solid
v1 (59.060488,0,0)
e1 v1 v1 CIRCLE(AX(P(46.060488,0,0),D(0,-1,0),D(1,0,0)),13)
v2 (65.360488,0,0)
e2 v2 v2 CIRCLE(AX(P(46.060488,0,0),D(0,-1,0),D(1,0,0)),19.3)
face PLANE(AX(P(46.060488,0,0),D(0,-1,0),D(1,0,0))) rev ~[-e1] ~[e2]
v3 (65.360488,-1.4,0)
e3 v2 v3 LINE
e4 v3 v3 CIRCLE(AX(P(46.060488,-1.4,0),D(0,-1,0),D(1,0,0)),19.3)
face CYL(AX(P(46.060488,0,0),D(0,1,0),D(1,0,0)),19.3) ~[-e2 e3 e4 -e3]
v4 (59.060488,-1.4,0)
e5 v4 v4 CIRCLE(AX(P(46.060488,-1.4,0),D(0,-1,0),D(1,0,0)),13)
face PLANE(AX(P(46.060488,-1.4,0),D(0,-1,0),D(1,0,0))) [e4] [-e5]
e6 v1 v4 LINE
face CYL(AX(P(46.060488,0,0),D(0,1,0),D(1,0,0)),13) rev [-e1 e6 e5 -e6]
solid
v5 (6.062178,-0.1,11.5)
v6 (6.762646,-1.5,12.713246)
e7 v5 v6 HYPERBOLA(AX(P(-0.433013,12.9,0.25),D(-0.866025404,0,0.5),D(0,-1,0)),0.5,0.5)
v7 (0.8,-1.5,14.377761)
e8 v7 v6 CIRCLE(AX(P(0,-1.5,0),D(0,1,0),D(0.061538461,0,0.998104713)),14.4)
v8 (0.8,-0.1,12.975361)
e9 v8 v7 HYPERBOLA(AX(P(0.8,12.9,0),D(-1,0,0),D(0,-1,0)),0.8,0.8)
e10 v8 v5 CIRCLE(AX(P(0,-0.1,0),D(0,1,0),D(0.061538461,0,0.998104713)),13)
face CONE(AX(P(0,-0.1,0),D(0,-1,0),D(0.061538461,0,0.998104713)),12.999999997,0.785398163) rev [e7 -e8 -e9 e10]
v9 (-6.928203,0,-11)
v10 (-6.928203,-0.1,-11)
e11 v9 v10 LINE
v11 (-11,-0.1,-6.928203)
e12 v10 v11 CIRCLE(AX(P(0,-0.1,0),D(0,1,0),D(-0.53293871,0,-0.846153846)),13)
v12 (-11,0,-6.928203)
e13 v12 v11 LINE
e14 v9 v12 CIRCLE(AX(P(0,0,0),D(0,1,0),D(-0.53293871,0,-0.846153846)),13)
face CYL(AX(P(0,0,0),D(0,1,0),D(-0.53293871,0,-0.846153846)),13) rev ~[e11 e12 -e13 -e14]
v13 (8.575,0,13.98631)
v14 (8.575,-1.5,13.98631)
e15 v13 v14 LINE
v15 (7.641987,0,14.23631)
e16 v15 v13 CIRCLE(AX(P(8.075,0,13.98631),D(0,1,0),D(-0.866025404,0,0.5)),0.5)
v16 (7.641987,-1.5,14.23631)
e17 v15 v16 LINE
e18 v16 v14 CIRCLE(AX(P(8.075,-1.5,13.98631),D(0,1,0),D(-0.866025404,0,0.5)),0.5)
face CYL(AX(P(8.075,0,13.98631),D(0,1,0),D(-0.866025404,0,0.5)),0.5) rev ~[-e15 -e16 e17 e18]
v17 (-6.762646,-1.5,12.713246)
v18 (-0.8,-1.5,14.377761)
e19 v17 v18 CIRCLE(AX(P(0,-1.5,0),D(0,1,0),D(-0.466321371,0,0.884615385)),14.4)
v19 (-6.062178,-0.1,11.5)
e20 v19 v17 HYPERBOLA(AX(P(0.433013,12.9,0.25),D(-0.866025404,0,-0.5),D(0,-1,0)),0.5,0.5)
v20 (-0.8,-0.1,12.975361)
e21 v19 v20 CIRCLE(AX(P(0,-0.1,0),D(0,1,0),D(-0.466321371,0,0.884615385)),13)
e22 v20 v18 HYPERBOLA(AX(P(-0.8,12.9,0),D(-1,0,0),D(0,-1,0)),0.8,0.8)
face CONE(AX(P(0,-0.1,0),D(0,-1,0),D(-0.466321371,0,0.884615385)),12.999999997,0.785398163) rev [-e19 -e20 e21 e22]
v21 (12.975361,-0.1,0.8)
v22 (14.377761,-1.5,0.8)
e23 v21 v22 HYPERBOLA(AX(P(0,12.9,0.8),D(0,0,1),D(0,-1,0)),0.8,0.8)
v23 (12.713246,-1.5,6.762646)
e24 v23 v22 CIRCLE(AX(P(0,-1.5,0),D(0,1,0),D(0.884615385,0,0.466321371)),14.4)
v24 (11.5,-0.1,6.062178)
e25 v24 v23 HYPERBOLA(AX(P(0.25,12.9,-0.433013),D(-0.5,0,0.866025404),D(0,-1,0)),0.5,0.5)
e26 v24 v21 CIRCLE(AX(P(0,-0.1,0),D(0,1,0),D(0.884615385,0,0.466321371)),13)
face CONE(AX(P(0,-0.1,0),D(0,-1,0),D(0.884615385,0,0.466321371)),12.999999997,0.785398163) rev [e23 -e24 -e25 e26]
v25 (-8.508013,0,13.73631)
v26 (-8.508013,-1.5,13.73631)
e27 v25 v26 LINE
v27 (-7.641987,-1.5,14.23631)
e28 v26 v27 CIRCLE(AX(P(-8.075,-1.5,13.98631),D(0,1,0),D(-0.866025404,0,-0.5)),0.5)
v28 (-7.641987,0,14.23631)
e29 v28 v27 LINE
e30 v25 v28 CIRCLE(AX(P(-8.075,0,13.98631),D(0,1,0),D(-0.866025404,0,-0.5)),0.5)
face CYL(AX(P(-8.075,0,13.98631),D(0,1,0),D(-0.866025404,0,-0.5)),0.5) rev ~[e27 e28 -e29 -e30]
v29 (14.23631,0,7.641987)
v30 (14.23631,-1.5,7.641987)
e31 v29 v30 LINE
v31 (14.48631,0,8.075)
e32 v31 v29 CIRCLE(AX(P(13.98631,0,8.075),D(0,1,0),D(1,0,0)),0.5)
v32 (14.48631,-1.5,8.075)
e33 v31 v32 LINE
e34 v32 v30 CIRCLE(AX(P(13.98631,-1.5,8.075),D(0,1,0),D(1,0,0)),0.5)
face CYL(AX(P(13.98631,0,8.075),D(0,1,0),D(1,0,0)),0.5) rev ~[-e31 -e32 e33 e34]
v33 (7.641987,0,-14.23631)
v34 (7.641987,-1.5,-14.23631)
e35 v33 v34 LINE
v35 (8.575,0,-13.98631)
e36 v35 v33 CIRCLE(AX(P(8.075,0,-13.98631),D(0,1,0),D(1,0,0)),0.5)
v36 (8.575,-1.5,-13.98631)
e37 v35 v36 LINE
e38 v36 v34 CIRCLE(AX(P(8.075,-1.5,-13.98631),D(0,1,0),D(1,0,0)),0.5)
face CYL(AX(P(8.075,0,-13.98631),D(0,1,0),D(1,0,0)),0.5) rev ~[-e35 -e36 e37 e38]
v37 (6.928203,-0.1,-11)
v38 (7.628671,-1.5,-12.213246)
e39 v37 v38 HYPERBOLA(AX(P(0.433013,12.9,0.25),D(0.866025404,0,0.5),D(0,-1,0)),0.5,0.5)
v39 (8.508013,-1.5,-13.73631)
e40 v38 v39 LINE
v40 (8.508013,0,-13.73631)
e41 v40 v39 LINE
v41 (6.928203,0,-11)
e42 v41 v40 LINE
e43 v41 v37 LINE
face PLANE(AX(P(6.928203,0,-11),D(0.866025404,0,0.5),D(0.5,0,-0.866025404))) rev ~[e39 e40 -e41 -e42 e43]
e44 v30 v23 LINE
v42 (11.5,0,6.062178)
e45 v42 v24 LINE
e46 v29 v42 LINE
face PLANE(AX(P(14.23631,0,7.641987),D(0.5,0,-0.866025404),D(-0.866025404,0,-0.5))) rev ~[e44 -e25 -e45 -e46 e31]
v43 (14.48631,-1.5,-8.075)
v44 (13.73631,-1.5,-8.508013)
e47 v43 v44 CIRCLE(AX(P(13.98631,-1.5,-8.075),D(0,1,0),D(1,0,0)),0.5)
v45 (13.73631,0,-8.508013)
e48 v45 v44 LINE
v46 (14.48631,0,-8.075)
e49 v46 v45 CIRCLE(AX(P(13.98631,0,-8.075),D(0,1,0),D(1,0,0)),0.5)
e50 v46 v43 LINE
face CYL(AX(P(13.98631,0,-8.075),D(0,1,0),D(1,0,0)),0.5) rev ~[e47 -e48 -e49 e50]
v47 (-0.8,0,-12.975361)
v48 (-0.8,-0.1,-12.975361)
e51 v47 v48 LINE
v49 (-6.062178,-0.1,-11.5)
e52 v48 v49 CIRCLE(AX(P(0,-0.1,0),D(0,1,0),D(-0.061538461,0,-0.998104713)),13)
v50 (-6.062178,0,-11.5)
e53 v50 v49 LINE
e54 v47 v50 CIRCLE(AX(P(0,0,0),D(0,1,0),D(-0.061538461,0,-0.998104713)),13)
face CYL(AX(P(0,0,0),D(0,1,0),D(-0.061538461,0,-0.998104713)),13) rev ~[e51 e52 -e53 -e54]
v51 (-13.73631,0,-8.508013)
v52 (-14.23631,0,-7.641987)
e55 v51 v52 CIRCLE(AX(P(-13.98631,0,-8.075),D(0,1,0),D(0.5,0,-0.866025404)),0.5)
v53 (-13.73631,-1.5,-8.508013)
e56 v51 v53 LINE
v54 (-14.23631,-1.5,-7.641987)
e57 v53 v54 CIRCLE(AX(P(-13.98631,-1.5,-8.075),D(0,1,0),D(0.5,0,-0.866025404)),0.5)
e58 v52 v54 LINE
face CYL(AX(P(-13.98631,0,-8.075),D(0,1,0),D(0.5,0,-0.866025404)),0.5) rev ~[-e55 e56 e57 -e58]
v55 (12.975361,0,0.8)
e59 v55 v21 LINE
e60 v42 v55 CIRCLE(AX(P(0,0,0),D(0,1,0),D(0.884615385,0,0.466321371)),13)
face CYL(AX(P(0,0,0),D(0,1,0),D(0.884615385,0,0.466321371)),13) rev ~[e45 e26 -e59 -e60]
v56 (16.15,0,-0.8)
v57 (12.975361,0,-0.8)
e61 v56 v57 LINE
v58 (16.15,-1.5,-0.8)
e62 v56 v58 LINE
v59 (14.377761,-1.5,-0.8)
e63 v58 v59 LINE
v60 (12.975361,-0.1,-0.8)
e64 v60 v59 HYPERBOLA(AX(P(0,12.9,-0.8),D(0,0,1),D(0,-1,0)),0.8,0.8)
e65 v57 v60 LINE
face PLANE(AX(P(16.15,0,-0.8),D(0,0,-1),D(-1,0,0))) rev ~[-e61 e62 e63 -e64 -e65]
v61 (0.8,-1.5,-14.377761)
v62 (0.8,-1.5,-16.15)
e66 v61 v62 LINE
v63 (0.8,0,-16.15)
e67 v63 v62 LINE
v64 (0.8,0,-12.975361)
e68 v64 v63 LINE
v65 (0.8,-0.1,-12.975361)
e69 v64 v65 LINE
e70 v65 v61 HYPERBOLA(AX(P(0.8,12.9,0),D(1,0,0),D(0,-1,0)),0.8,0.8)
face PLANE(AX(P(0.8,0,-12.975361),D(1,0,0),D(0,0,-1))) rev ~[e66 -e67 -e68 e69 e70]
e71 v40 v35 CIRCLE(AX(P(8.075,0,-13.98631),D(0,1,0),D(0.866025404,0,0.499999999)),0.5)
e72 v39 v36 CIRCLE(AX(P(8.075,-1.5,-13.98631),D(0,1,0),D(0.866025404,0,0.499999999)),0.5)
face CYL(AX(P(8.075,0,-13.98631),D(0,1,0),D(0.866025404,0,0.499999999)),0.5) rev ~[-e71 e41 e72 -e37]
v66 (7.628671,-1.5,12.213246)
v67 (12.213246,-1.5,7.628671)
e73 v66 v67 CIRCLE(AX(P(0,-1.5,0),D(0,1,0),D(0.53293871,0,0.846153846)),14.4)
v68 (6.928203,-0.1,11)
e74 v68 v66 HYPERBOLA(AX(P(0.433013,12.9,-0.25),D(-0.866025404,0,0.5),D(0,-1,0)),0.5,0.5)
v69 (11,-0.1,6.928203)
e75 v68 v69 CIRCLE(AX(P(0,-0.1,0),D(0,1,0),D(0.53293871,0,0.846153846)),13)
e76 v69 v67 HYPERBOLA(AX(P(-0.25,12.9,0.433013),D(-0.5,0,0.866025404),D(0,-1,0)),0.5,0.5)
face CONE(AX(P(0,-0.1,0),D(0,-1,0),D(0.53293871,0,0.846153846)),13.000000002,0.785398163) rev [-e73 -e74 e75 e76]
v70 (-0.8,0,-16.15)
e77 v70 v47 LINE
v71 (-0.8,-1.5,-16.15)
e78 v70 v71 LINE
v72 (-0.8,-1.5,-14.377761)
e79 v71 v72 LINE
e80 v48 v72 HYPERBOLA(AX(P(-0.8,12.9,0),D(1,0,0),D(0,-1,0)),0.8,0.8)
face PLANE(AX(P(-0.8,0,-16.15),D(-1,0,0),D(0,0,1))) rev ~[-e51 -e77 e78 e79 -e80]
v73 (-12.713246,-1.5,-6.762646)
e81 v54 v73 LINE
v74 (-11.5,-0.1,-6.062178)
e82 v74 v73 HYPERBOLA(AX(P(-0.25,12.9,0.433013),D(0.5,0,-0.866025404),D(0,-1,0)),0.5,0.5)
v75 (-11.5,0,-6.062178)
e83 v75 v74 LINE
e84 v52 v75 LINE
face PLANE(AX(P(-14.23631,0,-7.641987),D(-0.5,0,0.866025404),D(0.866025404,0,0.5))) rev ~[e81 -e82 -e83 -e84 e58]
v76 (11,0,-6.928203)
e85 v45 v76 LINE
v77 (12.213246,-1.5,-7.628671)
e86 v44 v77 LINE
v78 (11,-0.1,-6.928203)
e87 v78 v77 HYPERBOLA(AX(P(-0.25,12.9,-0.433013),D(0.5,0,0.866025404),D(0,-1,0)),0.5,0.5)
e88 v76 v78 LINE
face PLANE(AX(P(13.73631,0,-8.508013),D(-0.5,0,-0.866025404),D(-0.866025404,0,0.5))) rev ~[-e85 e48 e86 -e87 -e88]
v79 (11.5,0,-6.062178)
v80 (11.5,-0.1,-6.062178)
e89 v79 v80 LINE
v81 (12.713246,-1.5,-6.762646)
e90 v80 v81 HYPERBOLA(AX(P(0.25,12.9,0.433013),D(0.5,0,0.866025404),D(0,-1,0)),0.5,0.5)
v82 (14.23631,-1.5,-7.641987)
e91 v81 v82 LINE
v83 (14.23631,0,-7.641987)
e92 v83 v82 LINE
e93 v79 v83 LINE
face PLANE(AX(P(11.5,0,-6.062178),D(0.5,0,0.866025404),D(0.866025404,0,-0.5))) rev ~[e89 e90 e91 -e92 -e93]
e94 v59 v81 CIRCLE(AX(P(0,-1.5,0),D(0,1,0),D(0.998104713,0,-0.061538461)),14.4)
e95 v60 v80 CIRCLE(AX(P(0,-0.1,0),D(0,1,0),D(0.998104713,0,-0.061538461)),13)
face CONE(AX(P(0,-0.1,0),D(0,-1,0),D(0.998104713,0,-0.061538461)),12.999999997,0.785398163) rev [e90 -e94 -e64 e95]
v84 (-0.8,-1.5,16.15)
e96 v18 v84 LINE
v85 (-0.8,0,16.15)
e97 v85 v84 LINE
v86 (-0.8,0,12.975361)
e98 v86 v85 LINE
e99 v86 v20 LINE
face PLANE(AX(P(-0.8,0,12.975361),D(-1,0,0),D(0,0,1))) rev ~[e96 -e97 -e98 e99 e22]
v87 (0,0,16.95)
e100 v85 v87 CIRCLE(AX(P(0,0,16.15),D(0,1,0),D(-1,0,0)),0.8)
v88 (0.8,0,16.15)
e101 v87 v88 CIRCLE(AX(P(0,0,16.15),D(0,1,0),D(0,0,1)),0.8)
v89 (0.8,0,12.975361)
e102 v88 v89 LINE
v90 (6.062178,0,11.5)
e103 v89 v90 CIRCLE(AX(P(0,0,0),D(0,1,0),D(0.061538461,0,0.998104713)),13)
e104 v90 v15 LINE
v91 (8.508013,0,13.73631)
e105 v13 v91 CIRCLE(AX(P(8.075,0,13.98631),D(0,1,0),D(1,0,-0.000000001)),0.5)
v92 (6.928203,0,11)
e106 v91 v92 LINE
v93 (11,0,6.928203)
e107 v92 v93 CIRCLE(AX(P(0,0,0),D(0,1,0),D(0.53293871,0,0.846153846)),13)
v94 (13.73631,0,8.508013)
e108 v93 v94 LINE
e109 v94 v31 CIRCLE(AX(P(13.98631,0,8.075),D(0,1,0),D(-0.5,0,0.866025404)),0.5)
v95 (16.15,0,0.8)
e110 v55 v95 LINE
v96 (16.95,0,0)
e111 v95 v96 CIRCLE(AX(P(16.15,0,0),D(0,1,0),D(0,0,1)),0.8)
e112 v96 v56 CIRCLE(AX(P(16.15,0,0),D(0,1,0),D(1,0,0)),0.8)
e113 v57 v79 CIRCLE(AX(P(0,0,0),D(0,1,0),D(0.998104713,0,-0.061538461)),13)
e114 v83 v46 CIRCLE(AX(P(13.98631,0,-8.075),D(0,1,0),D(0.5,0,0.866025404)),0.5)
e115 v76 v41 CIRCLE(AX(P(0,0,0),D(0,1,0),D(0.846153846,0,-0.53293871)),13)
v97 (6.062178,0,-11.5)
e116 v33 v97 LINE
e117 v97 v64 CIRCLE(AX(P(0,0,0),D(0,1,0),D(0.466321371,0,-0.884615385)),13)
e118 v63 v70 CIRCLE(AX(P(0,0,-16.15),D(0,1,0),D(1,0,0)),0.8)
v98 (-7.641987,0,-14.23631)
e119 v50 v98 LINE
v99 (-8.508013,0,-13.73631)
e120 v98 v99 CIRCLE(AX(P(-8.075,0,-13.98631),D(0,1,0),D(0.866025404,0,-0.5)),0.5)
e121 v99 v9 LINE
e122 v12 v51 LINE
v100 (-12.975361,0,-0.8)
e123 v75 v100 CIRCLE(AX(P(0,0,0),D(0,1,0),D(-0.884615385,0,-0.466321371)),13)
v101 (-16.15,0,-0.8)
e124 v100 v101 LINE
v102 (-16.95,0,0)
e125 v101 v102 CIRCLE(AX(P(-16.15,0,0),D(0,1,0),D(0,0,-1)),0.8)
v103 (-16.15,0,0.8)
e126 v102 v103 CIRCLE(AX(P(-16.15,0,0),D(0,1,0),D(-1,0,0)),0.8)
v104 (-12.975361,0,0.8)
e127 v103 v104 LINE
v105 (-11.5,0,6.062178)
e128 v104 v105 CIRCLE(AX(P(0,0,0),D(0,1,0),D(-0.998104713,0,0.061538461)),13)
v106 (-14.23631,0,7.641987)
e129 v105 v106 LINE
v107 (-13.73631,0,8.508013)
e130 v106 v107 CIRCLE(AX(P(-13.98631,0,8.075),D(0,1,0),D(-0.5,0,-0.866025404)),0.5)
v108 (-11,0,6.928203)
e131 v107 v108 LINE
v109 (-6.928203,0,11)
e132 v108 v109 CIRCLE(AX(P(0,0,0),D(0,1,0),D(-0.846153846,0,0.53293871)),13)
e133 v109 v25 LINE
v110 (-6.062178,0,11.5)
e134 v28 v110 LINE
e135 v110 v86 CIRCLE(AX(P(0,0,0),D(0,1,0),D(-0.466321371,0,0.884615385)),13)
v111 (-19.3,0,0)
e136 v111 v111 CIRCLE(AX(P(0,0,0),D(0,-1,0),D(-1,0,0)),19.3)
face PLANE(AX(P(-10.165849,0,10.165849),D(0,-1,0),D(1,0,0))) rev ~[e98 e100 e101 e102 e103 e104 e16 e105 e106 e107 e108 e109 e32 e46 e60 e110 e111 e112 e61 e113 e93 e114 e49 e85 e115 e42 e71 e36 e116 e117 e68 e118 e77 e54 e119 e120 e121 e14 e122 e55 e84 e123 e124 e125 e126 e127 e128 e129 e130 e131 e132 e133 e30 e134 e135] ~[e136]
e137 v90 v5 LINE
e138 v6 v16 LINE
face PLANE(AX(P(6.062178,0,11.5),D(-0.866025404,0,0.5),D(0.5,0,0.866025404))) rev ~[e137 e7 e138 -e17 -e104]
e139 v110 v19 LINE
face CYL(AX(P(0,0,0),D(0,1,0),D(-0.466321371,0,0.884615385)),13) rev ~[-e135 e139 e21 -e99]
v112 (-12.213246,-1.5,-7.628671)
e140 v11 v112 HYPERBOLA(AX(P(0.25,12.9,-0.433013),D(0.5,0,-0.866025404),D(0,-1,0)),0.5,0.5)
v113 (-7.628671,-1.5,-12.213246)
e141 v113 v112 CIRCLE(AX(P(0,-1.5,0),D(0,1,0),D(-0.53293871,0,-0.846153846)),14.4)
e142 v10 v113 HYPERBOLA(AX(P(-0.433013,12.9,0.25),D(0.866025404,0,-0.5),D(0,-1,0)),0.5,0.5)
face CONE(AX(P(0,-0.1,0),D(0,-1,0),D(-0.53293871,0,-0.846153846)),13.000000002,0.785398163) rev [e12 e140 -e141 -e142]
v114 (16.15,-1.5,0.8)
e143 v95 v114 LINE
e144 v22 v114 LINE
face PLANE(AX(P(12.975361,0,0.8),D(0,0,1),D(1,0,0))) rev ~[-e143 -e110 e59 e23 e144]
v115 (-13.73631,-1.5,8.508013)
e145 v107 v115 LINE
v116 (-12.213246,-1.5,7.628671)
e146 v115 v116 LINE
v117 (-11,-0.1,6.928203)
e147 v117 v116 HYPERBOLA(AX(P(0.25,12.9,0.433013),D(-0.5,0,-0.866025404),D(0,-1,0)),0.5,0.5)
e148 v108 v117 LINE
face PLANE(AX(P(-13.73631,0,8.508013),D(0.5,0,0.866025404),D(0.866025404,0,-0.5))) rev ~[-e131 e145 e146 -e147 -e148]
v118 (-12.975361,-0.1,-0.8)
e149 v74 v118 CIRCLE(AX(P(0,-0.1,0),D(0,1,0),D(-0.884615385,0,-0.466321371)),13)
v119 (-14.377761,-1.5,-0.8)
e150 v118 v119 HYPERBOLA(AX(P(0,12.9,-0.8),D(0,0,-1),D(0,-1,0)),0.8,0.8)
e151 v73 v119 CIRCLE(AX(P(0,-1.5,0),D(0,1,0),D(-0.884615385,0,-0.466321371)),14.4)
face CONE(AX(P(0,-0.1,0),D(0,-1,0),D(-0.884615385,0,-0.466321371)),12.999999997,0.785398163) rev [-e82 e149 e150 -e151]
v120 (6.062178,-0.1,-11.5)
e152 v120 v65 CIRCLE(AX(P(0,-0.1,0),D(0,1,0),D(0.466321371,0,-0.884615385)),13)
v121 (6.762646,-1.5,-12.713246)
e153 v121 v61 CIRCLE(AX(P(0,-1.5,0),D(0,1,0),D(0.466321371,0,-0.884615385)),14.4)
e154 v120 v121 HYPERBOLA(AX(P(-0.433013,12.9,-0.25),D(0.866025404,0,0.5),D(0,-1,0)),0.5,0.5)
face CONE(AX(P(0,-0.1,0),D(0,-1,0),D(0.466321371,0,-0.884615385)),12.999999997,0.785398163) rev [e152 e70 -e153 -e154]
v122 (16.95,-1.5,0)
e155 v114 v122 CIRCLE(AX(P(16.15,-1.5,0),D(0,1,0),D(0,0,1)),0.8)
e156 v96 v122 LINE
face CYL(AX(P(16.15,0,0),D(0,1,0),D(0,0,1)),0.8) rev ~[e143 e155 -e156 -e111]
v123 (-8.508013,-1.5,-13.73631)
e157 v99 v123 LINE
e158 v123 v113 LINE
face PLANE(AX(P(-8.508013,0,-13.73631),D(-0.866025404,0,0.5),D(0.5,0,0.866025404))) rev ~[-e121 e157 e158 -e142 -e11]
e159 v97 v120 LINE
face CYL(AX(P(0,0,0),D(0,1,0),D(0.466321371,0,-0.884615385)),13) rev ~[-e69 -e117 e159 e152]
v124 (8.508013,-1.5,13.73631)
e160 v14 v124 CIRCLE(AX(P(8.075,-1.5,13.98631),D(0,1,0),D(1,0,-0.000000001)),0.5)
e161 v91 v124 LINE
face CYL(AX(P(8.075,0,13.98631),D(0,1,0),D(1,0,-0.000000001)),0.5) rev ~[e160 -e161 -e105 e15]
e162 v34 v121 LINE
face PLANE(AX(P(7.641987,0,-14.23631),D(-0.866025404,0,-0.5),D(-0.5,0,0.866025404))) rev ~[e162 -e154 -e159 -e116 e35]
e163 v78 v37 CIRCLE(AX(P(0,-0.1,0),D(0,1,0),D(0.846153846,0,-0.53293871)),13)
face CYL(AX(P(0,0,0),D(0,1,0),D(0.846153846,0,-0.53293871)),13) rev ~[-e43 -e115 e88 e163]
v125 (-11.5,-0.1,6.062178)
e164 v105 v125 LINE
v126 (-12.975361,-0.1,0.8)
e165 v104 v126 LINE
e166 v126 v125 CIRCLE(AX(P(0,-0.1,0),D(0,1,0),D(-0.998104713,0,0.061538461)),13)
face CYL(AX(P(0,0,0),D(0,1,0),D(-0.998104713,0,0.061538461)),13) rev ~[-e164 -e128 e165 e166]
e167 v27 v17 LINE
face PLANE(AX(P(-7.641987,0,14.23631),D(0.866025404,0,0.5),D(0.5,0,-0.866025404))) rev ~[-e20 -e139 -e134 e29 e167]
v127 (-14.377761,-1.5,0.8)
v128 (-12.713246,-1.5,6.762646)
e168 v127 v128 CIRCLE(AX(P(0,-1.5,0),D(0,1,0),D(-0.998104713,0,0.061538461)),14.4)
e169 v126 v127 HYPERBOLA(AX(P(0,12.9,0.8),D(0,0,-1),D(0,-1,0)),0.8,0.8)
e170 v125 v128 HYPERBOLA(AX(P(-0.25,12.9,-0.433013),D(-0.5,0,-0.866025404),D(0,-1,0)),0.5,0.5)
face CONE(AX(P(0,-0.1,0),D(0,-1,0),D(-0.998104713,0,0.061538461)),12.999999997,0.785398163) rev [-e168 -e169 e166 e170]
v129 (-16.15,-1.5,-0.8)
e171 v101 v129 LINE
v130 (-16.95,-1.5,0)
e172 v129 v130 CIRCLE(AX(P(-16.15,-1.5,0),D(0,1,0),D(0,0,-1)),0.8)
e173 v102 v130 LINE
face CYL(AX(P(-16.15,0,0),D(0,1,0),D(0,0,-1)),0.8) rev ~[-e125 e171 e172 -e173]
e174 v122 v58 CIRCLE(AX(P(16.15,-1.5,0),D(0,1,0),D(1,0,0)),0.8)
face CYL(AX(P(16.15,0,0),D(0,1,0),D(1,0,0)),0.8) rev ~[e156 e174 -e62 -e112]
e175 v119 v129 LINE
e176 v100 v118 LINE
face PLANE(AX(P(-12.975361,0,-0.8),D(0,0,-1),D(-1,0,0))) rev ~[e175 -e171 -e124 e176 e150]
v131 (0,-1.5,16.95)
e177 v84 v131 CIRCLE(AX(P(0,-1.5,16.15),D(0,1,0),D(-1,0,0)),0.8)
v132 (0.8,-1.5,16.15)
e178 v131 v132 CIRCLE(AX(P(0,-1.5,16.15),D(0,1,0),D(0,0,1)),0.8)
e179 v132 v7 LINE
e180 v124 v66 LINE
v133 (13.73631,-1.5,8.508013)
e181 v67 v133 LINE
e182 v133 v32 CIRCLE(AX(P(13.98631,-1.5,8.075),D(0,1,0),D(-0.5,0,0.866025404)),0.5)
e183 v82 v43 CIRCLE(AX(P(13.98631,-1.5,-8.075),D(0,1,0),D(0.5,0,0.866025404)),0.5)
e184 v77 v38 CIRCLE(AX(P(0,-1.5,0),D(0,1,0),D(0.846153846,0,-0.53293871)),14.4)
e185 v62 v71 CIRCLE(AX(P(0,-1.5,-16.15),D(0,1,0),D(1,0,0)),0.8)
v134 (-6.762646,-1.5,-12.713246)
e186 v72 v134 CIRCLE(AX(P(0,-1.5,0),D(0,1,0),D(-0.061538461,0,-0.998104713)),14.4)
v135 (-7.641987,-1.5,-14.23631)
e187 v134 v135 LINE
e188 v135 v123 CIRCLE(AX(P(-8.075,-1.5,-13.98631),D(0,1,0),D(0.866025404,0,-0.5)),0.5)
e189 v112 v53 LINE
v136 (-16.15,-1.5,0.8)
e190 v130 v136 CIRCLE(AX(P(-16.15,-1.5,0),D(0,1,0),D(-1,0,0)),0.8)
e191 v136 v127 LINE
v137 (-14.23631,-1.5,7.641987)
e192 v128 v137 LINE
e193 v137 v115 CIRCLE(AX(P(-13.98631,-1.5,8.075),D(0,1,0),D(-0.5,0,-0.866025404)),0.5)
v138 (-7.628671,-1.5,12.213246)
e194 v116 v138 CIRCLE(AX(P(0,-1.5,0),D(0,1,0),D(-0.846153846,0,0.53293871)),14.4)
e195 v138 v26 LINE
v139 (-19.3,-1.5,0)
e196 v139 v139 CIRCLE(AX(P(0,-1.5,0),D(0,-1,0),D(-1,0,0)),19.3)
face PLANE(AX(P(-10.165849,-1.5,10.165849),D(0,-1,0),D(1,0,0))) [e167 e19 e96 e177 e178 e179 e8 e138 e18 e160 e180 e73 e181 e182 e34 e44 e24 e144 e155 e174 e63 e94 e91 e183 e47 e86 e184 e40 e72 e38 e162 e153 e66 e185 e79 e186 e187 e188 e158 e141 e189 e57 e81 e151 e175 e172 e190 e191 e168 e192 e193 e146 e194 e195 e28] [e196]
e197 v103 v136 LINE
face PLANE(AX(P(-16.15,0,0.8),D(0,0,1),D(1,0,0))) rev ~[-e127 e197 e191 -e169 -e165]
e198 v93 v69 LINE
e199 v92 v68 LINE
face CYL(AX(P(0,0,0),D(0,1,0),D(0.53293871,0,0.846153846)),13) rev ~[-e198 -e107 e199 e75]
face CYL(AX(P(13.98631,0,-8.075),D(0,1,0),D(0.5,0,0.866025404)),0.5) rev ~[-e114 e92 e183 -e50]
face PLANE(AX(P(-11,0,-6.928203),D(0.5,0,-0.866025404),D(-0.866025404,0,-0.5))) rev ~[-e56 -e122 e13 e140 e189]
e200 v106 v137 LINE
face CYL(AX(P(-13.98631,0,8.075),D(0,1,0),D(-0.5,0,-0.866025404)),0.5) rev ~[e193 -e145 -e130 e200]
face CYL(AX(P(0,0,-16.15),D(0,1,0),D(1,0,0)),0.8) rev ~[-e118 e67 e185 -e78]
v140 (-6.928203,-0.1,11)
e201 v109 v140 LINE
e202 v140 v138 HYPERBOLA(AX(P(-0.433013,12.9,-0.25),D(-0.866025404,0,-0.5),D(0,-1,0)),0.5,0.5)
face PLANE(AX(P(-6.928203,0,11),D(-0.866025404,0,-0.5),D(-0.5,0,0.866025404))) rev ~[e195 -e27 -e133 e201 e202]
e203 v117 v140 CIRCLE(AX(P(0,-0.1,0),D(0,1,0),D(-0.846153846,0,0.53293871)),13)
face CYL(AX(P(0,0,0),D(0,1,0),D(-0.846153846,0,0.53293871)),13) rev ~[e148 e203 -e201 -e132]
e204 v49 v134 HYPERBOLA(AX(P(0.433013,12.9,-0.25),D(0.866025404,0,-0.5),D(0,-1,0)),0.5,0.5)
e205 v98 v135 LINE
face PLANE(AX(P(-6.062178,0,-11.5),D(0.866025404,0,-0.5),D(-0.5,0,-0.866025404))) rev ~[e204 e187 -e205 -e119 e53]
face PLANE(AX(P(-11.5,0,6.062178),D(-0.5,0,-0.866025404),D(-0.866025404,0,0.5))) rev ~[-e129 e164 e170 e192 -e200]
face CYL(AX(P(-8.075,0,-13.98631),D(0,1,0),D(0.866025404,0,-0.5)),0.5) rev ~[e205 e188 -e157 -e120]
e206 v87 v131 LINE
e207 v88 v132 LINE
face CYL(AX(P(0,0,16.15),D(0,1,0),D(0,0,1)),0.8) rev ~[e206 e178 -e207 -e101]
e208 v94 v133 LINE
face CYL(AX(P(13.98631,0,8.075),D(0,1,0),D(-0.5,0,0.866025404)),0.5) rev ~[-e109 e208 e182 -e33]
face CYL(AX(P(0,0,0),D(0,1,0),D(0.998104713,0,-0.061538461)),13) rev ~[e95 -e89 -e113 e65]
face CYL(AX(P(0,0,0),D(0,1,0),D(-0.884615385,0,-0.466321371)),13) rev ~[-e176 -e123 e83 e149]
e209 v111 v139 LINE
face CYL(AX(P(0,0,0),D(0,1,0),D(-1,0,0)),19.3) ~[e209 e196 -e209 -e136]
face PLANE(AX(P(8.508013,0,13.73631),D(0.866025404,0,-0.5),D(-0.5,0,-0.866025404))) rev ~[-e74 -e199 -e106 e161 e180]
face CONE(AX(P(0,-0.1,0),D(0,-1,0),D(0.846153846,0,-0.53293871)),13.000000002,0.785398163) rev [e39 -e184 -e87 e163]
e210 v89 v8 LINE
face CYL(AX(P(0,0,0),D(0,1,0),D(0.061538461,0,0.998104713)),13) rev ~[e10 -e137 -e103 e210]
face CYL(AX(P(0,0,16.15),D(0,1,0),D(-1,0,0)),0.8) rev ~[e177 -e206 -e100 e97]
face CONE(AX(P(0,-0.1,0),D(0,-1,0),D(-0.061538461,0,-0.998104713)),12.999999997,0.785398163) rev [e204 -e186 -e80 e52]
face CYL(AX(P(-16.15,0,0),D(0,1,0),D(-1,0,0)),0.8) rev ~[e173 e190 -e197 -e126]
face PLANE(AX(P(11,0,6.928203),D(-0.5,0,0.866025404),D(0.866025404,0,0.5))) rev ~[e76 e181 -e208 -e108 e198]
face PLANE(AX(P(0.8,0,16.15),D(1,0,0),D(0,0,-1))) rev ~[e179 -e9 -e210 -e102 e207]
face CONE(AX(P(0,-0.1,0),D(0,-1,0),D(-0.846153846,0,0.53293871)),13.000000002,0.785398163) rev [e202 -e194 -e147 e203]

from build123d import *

# Parameters (mm, degrees)
F1_DEPTH = 1.5
F2_SIZE  = 1.4
F0_R     = 19.3
F0_R_2   = 13
F3_DEPTH = 1.4


with BuildPart() as f1:
    # F0 (on Front) → F1 (new body)
    with BuildSketch(Plane.XZ):
        with BuildLine():
            Line((0, 16.95), (0, 19.3))
            ThreePointArc((0, 19.3), (-13.6471608769, 13.6471608769), (-19.3, 0))
            Line((-19.3, 0), (-16.95, 0))
            ThreePointArc((-16.95, 0), (-16.7156854249, 0.5656854249), (-16.15, 0.8))
            Line((-16.15, 0.8), (-12.9753612666, 0.8))
            ThreePointArc((-12.9753612666, 0.8), (-12.5173262382, 3.509493389), (-11.5, 6.0621778265))
            Line((-11.5, 6.0621778265), (-14.2363102711, 7.6419872981))
            ThreePointArc((-14.2363102711, 7.6419872981), (-14.419322973, 8.325), (-13.7363102711, 8.5080127019))
            Line((-13.7363102711, 8.5080127019), (-11, 6.9282032303))
            ThreePointArc((-11, 6.9282032303), (-9.1923881554, 9.1923881554), (-6.9282032303, 11))
            Line((-6.9282032303, 11), (-8.5080127019, 13.7363102711))
            ThreePointArc((-8.5080127019, 13.7363102711), (-8.325, 14.419322973), (-7.6419872981, 14.2363102711))
            Line((-7.6419872981, 14.2363102711), (-6.0621778265, 11.5))
            ThreePointArc((-6.0621778265, 11.5), (-3.509493389, 12.5173262382), (-0.8, 12.9753612666))
            Line((-0.8, 12.9753612666), (-0.8, 16.15))
            ThreePointArc((-0.8, 16.15), (-0.5656854249, 16.7156854249), (0, 16.95))
        make_face()
        with BuildLine():
            ThreePointArc((-19.3, 0), (0, -19.3), (19.3, 0))
            ThreePointArc((19.3, 0), (13.6471608769, 13.6471608769), (0, 19.3))
            Line((0, 19.3), (0, 16.95))
            ThreePointArc((0, 16.95), (0.5656854249, 16.7156854249), (0.8, 16.15))
            Line((0.8, 16.15), (0.8, 12.9753612666))
            ThreePointArc((0.8, 12.9753612666), (3.509493389, 12.5173262382), (6.0621778265, 11.5))
            Line((6.0621778265, 11.5), (7.6419872981, 14.2363102711))
            ThreePointArc((7.6419872981, 14.2363102711), (8.2044095226, 14.4692731843), (8.575, 13.9863102711))
            ThreePointArc((8.575, 13.9863102711), (8.5579629131, 13.8569007486), (8.5080127019, 13.7363102711))
            Line((8.5080127019, 13.7363102711), (6.9282032303, 11))
            ThreePointArc((6.9282032303, 11), (9.1923881554, 9.1923881554), (11, 6.9282032303))
            Line((11, 6.9282032303), (13.7363102711, 8.5080127019))
            ThreePointArc((13.7363102711, 8.5080127019), (14.2363102711, 8.5080127019), (14.4863102711, 8.075))
            ThreePointArc((14.4863102711, 8.075), (14.419322973, 7.825), (14.2363102711, 7.6419872981))
            Line((14.2363102711, 7.6419872981), (11.5, 6.0621778265))
            ThreePointArc((11.5, 6.0621778265), (12.5173262382, 3.509493389), (12.9753612666, 0.8))
            Line((12.9753612666, 0.8), (16.15, 0.8))
            ThreePointArc((16.15, 0.8), (16.7156854249, 0.5656854249), (16.95, 0))
            ThreePointArc((16.95, 0), (16.7156854249, -0.5656854249), (16.15, -0.8))
            Line((16.15, -0.8), (12.9753612666, -0.8))
            ThreePointArc((12.9753612666, -0.8), (12.5173262382, -3.509493389), (11.5, -6.0621778265))
            Line((11.5, -6.0621778265), (14.2363102711, -7.6419872981))
            ThreePointArc((14.2363102711, -7.6419872981), (14.419322973, -7.825), (14.4863102711, -8.075))
            ThreePointArc((14.4863102711, -8.075), (14.2363102711, -8.5080127019), (13.7363102711, -8.5080127019))
            Line((13.7363102711, -8.5080127019), (11, -6.9282032303))
            ThreePointArc((11, -6.9282032303), (9.1923881554, -9.1923881554), (6.9282032303, -11))
            Line((6.9282032303, -11), (8.5080127019, -13.7363102711))
            ThreePointArc((8.5080127019, -13.7363102711), (8.5579629131, -13.8569007486), (8.575, -13.9863102711))
            ThreePointArc((8.575, -13.9863102711), (8.2044095226, -14.4692731843), (7.6419872981, -14.2363102711))
            Line((7.6419872981, -14.2363102711), (6.0621778265, -11.5))
            ThreePointArc((6.0621778265, -11.5), (3.509493389, -12.5173262382), (0.8, -12.9753612666))
            Line((0.8, -12.9753612666), (0.8, -16.15))
            ThreePointArc((0.8, -16.15), (0, -16.95), (-0.8, -16.15))
            Line((-0.8, -16.15), (-0.8, -12.9753612666))
            ThreePointArc((-0.8, -12.9753612666), (-3.509493389, -12.5173262382), (-6.0621778265, -11.5))
            Line((-6.0621778265, -11.5), (-7.6419872981, -14.2363102711))
            ThreePointArc((-7.6419872981, -14.2363102711), (-8.325, -14.419322973), (-8.5080127019, -13.7363102711))
            Line((-8.5080127019, -13.7363102711), (-6.9282032303, -11))
            ThreePointArc((-6.9282032303, -11), (-9.1923881554, -9.1923881554), (-11, -6.9282032303))
            Line((-11, -6.9282032303), (-13.7363102711, -8.5080127019))
            ThreePointArc((-13.7363102711, -8.5080127019), (-14.419322973, -8.325), (-14.2363102711, -7.6419872981))
            Line((-14.2363102711, -7.6419872981), (-11.5, -6.0621778265))
            ThreePointArc((-11.5, -6.0621778265), (-12.5173262382, -3.509493389), (-12.9753612666, -0.8))
            Line((-12.9753612666, -0.8), (-16.15, -0.8))
            ThreePointArc((-16.15, -0.8), (-16.7156854249, -0.5656854249), (-16.95, 0))
            Line((-16.95, 0), (-19.3, 0))
        make_face()
    extrude(amount=F1_DEPTH)

    # F2
    f2_edges = [f1.edges().sort_by_distance(p)[0] for p in [
        (-12.517326, -1.5, 3.509493),
        (-9.192388, -1.5, 9.192388),
        (-3.509493, -1.5, 12.517326),
        (3.509493, -1.5, 12.517326),
        (9.192388, -1.5, 9.192388),
        (12.517326, -1.5, 3.509493),
        (12.517326, -1.5, -3.509493),
        (9.192388, -1.5, -9.192388),
        (3.509493, -1.5, -12.517326),
        (-3.509493, -1.5, -12.517326),
        (-9.192388, -1.5, -9.192388),
        (-12.517326, -1.5, -3.509493),
    ]]
    chamfer(f2_edges, length=F2_SIZE)


with BuildPart() as f3:
    # F0 (on Front) → F3 (new body)
    with BuildSketch(Plane.XZ):
        with Locations((46.060487628, 0)):
            Circle(F0_R)
        with Locations((46.060487628, 0)):
            Circle(F0_R_2, mode=Mode.SUBTRACT)
    extrude(amount=F3_DEPTH)


solid = Compound([f1.part, f3.part])
